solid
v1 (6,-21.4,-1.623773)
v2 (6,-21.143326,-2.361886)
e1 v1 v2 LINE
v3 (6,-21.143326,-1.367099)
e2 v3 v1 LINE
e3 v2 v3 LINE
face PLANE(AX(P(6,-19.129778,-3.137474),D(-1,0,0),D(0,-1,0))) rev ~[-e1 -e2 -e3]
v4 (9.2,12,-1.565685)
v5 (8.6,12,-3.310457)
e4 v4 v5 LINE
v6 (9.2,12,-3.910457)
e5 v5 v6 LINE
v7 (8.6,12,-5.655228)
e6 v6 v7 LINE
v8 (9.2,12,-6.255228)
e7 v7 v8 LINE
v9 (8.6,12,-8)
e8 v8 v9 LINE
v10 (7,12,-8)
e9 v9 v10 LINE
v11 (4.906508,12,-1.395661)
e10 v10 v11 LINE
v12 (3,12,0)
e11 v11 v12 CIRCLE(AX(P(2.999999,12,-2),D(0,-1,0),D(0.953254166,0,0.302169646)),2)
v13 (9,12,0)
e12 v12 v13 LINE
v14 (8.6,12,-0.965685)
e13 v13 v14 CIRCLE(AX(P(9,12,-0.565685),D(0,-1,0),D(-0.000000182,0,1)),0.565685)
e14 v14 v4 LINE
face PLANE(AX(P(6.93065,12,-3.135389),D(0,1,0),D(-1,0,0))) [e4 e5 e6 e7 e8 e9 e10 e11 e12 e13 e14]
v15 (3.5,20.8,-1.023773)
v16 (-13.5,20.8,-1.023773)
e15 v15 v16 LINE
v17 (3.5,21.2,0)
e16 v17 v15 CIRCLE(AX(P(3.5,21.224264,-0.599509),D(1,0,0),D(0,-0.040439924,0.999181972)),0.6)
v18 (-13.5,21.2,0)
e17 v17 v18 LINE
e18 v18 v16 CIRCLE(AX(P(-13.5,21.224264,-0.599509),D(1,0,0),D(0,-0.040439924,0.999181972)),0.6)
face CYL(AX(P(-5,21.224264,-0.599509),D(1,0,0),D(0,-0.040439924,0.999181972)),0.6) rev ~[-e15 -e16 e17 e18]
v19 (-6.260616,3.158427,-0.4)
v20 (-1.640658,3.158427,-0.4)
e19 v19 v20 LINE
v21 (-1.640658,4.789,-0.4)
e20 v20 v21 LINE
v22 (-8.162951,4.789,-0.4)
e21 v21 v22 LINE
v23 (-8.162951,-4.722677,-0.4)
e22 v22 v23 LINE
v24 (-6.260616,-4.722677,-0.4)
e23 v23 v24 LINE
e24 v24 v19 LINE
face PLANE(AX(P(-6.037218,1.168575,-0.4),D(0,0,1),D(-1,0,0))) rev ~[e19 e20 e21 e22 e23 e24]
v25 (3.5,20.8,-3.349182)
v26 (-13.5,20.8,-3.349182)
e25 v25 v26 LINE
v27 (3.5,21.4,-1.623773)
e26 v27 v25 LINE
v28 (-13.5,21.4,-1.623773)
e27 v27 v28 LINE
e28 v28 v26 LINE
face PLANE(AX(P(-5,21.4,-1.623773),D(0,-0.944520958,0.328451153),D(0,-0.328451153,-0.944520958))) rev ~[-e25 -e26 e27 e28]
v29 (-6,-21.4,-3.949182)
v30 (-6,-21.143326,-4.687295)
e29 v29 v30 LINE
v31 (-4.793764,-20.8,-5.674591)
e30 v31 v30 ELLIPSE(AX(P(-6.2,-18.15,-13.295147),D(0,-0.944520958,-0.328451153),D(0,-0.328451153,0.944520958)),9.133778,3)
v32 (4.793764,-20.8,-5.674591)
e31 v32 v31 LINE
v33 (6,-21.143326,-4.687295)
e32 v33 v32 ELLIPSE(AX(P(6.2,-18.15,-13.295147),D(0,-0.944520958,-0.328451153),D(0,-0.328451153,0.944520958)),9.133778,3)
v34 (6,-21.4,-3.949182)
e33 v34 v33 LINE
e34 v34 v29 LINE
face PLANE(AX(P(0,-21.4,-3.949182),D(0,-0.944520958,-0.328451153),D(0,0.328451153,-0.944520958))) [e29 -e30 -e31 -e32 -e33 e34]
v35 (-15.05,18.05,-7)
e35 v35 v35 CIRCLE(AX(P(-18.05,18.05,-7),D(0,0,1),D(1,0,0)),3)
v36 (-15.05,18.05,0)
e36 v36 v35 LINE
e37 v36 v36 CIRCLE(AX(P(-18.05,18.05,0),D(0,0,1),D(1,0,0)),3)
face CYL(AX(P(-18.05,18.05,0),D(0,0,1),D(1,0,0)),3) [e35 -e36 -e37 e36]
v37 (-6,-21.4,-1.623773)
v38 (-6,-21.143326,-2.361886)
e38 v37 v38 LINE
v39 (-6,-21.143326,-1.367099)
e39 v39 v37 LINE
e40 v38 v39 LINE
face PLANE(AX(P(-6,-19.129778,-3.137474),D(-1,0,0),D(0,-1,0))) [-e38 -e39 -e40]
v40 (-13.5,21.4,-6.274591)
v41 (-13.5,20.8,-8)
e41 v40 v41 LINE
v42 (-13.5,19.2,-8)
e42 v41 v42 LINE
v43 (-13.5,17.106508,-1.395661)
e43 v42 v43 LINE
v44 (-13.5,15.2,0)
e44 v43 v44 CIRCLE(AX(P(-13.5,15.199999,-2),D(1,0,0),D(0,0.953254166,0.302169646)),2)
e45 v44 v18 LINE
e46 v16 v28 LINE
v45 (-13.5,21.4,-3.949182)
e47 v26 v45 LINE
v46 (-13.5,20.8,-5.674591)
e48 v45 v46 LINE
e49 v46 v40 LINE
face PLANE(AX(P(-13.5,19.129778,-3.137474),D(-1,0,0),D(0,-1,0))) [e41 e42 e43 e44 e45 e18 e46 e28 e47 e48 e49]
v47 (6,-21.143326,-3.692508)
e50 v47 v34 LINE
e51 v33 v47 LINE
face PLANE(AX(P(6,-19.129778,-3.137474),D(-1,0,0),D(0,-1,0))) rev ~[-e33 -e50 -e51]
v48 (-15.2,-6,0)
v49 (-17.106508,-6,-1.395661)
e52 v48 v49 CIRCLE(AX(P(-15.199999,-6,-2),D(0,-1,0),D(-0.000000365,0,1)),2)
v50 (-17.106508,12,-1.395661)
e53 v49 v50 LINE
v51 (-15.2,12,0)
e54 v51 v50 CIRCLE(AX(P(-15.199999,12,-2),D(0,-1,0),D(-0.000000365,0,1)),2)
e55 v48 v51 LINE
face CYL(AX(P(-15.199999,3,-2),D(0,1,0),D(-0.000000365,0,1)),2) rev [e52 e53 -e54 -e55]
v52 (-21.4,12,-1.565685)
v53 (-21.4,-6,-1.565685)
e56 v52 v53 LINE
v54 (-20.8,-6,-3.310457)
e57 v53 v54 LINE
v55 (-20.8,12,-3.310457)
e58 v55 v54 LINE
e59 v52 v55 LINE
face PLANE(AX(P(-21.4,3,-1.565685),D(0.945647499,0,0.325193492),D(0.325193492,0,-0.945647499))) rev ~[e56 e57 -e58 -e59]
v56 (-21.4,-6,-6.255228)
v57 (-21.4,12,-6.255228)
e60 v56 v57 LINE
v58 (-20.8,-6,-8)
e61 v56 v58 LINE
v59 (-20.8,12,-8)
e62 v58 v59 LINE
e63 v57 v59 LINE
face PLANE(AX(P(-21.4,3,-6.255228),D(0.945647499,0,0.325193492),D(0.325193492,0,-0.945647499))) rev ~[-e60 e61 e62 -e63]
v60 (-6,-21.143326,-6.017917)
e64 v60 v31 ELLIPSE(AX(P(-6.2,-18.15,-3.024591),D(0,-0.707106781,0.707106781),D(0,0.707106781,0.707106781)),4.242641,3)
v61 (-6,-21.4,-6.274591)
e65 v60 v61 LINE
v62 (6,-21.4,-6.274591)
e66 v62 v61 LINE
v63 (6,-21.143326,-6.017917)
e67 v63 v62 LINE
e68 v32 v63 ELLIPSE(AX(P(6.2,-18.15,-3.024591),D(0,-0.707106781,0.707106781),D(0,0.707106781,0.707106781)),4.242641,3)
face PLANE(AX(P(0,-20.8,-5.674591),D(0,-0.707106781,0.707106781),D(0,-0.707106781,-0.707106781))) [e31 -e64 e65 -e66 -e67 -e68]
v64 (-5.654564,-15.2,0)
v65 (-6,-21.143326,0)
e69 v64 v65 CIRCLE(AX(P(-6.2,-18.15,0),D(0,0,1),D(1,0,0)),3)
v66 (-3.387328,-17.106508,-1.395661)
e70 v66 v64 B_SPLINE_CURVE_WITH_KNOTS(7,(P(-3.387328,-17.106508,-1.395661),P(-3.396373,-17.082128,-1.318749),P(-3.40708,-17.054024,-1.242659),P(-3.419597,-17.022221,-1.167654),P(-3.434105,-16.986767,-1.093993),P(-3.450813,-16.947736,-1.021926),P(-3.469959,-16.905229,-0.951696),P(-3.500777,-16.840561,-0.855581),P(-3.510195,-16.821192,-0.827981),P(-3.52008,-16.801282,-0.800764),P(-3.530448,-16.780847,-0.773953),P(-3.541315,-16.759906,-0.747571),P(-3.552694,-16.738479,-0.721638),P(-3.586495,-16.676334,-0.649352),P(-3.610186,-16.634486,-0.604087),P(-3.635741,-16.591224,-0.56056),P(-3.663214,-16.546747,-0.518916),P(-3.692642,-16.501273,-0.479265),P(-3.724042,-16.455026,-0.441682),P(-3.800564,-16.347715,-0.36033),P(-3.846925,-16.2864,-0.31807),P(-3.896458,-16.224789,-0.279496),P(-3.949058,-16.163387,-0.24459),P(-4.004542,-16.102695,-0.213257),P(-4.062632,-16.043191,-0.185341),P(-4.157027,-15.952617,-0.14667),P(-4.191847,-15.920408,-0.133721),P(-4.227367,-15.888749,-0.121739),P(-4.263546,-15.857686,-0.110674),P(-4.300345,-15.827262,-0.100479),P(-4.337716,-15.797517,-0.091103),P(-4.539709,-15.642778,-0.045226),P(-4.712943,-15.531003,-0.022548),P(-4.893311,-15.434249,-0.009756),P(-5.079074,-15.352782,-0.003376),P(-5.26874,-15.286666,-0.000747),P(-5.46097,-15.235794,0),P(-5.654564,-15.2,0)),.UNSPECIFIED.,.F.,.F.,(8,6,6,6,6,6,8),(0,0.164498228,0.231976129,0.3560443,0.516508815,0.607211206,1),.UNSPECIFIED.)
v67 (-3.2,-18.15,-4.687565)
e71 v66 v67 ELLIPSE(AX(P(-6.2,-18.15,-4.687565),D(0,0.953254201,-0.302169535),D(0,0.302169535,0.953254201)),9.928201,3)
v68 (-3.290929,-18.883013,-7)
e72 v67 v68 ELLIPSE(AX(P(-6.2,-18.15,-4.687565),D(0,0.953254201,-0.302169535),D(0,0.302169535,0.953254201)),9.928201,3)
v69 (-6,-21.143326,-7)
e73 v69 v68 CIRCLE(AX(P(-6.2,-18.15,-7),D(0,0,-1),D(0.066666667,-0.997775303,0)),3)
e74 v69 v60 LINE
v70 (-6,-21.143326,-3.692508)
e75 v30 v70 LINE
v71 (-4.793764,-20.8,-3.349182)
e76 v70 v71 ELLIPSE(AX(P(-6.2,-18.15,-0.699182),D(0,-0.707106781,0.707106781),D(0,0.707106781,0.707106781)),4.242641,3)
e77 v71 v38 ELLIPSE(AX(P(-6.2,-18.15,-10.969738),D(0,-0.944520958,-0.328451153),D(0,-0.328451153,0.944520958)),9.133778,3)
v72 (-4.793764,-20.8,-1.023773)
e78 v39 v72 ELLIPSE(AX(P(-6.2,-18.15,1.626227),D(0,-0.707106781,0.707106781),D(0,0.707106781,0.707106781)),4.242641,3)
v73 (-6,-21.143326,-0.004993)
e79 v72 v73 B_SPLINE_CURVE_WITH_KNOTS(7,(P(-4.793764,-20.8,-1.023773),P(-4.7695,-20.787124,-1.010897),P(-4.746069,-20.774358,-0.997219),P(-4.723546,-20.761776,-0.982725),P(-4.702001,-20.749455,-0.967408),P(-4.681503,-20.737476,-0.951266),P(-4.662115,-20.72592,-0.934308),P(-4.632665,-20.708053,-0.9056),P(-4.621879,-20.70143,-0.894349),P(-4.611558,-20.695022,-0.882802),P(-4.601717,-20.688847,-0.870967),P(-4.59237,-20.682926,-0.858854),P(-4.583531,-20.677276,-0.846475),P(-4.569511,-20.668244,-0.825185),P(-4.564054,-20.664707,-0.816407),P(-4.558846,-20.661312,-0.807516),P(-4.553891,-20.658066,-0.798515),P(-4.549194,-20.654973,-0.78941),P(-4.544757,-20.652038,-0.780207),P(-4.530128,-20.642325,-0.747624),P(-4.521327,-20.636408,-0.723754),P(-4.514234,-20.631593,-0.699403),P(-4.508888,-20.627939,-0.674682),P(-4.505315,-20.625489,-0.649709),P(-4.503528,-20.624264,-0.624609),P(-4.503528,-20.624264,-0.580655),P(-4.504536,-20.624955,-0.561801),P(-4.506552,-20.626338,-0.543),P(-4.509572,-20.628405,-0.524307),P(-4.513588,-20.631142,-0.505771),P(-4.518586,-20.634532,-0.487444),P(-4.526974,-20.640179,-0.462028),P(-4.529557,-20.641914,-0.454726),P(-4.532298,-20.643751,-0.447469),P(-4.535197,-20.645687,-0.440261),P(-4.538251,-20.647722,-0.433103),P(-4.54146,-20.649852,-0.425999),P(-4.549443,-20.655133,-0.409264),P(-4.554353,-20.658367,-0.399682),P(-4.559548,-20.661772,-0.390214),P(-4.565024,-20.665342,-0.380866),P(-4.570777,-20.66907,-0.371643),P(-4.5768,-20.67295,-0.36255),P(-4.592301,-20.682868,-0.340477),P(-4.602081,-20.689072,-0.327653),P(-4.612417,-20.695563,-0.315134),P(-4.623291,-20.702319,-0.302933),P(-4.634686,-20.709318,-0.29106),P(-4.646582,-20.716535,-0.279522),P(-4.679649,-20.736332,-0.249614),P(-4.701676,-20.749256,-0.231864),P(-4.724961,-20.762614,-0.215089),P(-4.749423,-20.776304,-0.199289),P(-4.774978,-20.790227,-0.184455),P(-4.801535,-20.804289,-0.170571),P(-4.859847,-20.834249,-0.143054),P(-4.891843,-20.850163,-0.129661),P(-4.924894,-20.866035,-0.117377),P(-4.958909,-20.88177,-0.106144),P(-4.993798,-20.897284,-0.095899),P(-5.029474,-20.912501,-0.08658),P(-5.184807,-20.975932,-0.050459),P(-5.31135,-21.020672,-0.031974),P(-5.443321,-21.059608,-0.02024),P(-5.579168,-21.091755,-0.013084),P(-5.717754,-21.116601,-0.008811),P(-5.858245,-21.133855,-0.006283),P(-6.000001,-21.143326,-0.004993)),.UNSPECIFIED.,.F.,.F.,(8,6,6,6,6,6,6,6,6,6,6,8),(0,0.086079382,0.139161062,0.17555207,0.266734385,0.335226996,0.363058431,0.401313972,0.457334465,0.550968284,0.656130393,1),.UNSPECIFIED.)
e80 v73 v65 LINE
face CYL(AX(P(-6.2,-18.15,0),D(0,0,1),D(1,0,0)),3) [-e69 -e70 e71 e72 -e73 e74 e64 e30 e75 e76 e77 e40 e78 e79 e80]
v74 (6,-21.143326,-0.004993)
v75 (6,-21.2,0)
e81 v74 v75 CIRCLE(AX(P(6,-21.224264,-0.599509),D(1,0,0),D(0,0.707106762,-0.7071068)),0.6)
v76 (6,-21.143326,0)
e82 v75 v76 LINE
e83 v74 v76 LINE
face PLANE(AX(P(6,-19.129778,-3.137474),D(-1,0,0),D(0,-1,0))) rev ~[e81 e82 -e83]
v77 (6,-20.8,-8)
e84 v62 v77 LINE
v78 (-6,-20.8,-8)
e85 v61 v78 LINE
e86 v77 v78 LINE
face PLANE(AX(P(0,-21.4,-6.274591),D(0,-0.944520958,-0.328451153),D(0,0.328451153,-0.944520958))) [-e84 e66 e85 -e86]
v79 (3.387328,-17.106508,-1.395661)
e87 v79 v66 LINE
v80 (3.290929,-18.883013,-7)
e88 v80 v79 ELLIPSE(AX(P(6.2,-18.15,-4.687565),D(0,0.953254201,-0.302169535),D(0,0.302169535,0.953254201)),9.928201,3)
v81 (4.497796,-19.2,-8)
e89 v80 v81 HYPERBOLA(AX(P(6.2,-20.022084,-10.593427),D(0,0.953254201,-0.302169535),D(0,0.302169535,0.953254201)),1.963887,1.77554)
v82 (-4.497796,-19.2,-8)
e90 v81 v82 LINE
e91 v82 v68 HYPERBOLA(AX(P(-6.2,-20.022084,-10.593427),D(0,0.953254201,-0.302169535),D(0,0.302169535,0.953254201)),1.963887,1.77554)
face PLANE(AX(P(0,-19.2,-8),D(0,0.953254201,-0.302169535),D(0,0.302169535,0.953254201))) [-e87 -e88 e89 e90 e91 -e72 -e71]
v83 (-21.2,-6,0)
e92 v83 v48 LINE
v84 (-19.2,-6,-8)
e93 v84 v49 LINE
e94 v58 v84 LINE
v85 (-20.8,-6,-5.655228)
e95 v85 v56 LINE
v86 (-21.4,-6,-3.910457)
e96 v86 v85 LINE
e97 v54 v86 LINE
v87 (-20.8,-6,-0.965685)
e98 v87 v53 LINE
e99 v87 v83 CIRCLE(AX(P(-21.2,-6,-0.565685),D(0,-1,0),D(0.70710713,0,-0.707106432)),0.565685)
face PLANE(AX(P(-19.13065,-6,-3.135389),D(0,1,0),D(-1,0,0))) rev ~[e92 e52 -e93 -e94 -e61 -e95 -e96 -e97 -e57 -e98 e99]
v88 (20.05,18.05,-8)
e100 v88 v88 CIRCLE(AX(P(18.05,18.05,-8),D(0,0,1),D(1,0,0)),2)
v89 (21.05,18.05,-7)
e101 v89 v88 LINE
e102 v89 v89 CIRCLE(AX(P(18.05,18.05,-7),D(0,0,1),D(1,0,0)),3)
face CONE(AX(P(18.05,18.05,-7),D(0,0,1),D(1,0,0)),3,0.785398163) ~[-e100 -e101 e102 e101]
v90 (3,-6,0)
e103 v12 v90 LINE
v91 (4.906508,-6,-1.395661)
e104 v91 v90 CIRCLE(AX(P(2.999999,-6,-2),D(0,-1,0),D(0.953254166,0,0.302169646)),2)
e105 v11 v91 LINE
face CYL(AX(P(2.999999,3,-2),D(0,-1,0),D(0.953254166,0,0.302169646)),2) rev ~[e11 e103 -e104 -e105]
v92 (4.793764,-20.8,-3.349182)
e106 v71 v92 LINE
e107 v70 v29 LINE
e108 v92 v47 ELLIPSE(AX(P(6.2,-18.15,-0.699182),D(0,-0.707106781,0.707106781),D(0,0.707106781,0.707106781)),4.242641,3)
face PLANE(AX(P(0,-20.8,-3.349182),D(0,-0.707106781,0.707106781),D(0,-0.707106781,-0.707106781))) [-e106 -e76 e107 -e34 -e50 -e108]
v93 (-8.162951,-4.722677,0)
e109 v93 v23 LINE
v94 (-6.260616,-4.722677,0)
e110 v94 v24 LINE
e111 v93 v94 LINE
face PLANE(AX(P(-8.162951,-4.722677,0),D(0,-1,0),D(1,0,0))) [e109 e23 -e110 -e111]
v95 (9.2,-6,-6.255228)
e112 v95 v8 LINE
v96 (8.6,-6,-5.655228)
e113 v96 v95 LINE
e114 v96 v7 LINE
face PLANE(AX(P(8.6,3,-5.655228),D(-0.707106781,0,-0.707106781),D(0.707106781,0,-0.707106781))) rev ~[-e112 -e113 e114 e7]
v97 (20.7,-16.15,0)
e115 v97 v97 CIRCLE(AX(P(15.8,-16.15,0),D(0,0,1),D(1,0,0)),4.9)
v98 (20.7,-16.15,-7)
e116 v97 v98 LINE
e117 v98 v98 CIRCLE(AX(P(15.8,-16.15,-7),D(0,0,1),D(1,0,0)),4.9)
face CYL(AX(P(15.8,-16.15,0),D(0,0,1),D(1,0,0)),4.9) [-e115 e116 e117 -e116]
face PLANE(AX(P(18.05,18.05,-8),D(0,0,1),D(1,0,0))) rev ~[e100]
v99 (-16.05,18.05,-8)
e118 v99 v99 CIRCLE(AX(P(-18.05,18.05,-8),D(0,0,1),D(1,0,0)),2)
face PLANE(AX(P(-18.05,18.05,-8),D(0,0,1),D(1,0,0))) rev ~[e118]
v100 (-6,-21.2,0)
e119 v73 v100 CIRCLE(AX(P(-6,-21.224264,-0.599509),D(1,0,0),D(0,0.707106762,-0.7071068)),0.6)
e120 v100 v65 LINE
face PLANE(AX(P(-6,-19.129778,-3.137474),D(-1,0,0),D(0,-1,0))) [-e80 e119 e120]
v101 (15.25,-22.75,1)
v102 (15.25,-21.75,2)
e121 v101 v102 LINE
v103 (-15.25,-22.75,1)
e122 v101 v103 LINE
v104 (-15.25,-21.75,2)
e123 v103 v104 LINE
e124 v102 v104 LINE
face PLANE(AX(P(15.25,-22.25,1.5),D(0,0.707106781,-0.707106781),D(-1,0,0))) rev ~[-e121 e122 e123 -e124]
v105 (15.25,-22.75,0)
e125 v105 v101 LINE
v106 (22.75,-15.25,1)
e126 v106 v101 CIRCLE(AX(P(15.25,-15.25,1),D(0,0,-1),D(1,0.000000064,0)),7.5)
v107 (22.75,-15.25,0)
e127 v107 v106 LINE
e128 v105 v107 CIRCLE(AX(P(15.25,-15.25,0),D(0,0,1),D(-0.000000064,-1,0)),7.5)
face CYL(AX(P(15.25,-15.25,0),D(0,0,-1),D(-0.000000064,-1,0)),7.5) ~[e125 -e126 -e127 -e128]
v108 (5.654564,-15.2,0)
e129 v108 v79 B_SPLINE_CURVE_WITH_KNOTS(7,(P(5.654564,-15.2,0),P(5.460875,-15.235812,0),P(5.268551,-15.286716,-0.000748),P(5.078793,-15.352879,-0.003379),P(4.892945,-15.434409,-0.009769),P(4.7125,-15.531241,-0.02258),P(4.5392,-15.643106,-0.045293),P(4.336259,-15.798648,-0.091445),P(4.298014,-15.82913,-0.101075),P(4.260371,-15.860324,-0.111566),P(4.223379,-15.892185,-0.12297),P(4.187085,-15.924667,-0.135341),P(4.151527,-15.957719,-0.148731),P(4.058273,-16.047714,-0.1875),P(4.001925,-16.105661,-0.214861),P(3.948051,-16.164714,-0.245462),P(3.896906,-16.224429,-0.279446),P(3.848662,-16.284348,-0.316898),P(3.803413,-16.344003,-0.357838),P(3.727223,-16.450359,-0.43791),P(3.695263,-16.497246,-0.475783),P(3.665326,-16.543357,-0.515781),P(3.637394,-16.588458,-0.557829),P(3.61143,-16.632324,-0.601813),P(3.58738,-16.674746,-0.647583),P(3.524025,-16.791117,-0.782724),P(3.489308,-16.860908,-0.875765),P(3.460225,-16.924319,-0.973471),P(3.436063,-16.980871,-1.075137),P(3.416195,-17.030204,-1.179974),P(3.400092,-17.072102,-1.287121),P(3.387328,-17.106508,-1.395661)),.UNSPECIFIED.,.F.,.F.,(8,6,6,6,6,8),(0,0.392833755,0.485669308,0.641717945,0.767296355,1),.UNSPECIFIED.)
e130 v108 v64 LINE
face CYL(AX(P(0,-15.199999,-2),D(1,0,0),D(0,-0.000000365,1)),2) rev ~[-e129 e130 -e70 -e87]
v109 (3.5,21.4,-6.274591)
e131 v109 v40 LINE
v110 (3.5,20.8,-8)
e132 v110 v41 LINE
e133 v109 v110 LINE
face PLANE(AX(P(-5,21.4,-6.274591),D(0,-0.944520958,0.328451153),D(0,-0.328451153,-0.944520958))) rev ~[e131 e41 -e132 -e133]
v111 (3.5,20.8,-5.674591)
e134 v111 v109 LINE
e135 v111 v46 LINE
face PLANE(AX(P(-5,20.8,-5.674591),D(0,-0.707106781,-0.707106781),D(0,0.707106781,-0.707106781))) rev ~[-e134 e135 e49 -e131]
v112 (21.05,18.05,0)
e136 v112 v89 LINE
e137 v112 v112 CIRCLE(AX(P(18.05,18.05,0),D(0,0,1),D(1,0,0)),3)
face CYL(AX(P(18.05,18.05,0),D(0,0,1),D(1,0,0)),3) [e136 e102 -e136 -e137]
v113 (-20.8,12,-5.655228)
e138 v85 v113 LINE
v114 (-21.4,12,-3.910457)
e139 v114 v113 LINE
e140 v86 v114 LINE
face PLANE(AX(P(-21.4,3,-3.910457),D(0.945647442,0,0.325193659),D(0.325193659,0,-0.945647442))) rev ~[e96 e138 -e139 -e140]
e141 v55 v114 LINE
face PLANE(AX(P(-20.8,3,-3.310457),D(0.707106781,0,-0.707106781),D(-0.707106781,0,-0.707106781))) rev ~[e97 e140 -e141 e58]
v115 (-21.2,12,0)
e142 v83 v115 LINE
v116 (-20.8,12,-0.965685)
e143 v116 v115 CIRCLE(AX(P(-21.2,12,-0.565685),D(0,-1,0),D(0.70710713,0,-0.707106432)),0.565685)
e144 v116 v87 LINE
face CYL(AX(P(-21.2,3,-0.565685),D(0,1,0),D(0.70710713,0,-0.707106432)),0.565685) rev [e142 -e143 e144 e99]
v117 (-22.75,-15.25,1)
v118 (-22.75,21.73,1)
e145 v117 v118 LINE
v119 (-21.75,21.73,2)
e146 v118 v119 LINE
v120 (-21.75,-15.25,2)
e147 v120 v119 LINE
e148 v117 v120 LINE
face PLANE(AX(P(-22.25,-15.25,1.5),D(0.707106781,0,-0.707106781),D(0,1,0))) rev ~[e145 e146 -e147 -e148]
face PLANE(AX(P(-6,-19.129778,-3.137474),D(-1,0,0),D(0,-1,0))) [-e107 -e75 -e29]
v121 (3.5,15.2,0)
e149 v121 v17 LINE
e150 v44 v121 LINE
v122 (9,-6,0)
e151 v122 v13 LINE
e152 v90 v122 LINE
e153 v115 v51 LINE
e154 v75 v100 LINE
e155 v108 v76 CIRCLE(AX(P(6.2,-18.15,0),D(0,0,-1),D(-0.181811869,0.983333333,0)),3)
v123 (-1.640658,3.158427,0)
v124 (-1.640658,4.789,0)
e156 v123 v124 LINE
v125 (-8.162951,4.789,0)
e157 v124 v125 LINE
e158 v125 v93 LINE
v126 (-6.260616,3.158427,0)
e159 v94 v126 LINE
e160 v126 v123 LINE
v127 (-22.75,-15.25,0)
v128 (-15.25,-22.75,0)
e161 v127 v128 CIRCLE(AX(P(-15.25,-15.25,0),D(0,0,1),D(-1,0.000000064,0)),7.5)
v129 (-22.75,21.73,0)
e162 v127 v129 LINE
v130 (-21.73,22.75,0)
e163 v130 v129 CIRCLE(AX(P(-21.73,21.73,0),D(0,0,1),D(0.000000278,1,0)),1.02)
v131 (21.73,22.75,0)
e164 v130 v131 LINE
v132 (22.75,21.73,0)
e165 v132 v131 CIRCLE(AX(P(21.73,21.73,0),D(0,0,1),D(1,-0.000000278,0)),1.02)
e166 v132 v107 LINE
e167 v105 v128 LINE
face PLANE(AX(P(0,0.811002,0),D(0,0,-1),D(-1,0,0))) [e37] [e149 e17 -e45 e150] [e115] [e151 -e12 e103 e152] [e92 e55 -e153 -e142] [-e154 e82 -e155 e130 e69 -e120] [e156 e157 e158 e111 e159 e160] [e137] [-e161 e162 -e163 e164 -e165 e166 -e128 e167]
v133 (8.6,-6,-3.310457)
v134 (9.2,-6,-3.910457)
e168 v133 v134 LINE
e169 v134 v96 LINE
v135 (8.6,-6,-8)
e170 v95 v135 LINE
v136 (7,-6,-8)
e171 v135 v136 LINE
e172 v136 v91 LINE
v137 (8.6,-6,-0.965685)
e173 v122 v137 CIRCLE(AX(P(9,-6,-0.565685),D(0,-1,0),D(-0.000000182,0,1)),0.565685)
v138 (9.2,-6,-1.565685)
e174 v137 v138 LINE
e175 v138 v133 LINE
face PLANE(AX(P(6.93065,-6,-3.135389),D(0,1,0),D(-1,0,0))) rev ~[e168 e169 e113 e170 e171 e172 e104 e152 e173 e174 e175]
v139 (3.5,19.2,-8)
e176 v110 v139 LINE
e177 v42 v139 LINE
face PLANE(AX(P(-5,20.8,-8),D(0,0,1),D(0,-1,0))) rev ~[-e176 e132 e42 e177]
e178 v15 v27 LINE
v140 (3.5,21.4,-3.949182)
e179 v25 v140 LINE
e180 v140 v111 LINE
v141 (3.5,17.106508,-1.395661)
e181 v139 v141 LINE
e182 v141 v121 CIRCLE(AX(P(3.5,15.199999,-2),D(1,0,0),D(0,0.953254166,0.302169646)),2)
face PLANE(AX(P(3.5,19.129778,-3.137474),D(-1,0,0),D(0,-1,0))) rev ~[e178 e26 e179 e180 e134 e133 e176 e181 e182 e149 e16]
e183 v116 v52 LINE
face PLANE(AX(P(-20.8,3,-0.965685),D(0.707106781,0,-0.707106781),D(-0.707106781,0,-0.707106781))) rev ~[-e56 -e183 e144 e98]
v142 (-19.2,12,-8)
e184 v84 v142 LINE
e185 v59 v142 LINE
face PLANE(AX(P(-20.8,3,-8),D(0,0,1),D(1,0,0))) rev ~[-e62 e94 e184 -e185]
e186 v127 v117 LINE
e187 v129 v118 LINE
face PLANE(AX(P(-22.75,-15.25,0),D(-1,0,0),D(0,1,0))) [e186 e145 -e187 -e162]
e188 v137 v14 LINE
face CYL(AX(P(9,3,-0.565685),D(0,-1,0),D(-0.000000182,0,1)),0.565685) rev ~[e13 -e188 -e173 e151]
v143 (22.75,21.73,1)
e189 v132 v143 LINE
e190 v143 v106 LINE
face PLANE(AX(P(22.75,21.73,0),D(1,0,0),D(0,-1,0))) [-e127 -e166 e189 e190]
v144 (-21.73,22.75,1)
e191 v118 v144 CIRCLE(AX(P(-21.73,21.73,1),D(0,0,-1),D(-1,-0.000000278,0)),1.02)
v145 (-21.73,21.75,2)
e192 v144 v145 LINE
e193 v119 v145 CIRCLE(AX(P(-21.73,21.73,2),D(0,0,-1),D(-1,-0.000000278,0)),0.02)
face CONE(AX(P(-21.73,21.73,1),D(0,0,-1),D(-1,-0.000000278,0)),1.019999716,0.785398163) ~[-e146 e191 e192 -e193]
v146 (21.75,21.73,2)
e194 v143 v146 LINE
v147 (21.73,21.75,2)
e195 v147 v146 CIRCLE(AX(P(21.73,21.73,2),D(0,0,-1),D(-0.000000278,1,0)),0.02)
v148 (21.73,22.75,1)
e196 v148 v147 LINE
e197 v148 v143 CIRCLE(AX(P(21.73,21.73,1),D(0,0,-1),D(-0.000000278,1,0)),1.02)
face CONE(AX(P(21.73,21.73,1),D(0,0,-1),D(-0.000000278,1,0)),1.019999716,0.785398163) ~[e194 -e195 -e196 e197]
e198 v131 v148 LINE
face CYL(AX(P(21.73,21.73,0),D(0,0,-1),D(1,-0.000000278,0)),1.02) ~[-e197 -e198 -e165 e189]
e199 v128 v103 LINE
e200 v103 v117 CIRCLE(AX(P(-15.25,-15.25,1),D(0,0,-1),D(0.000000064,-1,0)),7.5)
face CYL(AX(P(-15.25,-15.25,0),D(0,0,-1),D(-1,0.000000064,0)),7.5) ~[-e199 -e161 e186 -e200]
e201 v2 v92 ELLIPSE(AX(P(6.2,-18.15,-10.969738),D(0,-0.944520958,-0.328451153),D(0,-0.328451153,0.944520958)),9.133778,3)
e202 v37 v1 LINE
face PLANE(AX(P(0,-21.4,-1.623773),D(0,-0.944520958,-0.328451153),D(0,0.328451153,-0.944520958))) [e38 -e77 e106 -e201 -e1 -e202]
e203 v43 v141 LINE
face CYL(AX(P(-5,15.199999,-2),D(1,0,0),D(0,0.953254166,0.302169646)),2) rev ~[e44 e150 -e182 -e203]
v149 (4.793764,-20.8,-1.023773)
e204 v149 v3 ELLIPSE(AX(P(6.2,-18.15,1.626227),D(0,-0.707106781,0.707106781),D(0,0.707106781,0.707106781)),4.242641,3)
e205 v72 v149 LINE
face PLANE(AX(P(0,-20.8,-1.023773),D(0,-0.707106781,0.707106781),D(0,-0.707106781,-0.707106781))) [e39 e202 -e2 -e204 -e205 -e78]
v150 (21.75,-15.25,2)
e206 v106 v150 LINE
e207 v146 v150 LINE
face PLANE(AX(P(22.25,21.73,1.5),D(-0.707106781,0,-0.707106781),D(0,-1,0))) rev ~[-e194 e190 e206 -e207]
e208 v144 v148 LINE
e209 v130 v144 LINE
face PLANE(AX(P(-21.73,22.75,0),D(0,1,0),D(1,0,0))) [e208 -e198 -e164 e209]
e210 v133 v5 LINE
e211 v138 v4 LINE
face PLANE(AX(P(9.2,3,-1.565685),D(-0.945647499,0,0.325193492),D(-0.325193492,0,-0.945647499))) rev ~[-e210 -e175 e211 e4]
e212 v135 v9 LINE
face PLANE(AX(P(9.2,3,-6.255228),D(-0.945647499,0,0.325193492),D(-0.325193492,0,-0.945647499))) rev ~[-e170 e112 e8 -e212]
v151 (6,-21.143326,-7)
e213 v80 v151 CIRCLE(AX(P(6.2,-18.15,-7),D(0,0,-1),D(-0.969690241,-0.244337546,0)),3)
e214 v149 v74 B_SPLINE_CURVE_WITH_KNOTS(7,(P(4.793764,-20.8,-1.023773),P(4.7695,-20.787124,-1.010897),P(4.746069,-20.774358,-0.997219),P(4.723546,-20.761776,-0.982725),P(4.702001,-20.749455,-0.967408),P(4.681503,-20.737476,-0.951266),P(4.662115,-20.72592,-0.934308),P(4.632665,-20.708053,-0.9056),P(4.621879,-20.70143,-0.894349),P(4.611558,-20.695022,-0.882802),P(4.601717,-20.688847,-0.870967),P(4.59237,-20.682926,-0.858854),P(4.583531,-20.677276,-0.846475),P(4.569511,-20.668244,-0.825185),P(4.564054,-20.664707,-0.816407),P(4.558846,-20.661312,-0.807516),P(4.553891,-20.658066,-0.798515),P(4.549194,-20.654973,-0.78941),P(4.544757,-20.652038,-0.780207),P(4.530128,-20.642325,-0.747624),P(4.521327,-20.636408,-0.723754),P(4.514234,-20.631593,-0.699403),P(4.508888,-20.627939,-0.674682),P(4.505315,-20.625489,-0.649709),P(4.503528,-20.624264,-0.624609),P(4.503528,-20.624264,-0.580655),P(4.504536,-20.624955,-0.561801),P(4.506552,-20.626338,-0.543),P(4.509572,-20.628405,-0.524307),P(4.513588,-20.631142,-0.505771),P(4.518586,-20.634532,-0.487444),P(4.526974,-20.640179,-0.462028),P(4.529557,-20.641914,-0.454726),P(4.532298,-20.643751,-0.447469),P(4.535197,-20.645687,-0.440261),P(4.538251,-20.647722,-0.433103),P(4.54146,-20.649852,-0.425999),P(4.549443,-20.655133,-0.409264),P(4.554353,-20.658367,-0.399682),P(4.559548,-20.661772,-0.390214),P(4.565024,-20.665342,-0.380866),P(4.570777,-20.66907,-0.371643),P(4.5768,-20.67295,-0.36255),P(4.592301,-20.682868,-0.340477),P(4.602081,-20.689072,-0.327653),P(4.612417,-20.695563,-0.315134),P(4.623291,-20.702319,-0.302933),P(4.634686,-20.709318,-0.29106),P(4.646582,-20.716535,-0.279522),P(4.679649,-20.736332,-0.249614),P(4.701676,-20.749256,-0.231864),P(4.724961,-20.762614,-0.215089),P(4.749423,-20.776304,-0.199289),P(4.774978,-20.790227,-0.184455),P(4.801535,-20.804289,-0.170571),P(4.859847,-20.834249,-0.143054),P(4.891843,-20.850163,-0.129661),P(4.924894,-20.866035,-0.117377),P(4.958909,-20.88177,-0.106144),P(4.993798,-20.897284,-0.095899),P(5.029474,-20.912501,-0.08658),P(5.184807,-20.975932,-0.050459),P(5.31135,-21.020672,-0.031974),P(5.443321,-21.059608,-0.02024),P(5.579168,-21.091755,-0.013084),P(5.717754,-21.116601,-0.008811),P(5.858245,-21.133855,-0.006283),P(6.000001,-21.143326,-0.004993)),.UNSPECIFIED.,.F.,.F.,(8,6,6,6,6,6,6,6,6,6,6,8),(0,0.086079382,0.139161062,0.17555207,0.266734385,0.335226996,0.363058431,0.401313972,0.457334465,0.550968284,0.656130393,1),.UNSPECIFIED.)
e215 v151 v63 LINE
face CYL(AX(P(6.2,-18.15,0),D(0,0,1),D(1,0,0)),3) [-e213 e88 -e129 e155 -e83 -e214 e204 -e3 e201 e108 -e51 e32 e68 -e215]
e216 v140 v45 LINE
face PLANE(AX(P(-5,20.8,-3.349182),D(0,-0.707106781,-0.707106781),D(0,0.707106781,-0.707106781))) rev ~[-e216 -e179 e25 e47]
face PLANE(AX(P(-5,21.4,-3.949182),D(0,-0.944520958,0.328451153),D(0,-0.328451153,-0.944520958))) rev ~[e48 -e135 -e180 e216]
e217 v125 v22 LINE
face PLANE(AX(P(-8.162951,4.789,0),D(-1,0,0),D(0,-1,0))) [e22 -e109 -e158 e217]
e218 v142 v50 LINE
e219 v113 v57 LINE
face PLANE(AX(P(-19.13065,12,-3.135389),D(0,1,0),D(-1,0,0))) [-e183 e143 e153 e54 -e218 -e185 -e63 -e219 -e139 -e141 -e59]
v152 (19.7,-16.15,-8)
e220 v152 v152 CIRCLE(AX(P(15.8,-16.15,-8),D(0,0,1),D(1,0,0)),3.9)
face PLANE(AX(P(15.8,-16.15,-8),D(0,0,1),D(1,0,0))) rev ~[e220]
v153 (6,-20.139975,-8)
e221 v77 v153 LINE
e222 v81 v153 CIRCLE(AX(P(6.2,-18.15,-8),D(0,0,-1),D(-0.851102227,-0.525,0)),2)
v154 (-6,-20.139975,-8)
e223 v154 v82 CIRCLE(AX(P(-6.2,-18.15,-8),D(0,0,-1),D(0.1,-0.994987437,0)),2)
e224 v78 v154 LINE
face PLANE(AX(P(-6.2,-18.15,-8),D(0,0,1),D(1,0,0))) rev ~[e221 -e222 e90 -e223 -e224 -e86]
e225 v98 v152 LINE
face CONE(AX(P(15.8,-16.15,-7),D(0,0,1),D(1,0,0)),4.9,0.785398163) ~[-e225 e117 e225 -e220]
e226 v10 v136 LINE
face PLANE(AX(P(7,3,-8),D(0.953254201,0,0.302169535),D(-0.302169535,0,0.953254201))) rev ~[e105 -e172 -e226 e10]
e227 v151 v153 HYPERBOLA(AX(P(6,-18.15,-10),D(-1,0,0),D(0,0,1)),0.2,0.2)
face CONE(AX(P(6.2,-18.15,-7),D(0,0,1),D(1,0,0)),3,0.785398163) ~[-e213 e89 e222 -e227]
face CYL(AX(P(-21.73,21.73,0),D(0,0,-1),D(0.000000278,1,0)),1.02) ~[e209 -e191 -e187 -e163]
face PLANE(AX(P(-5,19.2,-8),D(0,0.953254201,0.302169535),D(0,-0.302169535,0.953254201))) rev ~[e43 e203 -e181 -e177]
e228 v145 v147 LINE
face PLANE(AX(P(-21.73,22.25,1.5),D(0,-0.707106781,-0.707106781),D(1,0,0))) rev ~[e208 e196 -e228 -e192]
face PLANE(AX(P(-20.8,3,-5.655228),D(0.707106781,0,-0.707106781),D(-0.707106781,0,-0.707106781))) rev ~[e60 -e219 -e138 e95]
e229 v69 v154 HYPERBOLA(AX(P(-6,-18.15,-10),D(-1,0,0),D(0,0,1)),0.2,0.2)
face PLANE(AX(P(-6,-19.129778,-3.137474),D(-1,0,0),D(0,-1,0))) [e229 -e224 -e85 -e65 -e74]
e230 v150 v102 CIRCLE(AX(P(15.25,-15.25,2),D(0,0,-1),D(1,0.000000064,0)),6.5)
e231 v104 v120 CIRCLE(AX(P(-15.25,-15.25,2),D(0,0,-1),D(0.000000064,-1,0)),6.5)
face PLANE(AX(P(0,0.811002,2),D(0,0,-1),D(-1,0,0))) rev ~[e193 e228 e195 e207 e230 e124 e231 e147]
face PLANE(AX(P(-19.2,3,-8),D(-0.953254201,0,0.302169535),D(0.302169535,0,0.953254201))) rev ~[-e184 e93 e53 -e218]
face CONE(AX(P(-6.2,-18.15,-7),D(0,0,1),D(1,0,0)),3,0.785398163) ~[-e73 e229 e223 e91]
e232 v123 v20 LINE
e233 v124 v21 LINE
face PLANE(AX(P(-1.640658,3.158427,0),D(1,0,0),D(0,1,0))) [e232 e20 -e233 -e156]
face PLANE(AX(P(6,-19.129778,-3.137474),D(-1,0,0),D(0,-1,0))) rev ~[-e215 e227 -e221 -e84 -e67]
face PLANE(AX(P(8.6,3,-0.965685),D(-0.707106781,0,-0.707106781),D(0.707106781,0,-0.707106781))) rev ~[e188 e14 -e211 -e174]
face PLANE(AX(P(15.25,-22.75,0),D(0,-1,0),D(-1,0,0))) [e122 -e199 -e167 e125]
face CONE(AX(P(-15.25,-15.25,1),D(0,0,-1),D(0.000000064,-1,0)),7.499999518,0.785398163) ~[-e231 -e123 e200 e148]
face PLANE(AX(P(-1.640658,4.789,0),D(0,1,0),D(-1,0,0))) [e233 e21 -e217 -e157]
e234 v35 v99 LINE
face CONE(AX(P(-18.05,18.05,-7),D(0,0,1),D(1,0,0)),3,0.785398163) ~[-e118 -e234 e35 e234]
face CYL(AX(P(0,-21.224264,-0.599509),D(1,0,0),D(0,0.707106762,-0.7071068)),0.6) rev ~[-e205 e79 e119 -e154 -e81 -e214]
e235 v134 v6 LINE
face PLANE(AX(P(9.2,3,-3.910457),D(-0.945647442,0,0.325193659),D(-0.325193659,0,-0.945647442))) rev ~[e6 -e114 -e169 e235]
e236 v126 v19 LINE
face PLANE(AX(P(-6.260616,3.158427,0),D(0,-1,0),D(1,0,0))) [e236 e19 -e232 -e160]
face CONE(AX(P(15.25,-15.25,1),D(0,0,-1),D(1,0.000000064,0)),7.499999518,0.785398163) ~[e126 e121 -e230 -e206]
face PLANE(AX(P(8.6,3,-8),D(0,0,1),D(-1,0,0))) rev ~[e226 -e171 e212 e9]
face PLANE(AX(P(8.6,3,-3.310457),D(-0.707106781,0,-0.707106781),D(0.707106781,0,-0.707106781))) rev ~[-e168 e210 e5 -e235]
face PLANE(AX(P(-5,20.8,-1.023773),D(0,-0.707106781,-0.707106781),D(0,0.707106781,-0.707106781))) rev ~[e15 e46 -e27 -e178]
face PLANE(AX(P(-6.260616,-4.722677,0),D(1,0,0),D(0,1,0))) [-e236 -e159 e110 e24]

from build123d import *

# Parameters (mm, degrees)
PAD001_DEPTH    = 2
SKETCH002_R     = 3
SKETCH002_R_2   = 4.9
PAD002_DEPTH    = 8
CHAMFER_SIZE    = 1
CHAMFER001_SIZE = 1
PAD003_DEPTH    = 9
PAD004_DEPTH    = 6
PAD005_DEPTH    = 8.5
PAD006_DEPTH    = 0.4


with BuildPart() as part:
    # Sketch001 → Pad001 (new body)
    with BuildSketch(Plane.XY):
        with BuildLine():
            Line((-21.73, 22.75), (21.73, 22.75))
            ThreePointArc((22.75, 21.73), (22.451249, 22.451249), (21.73, 22.75))
            Line((22.75, 21.73), (22.75, -15.25))
            ThreePointArc((15.25, -22.75), (20.553301, -20.553301), (22.75, -15.25))
            Line((15.25, -22.75), (-15.25, -22.75))
            ThreePointArc((-22.75, -15.25), (-20.553301, -20.553301), (-15.25, -22.75))
            Line((-22.75, -15.25), (-22.75, 21.73))
            ThreePointArc((-21.73, 22.75), (-22.451249, 22.451249), (-22.75, 21.73))
        make_face()
    extrude(amount=PAD001_DEPTH)

    # Sketch002 → Pad002 (join)
    with BuildSketch(Plane.XY):
        with Locations((-18.05, 18.05)):
            Circle(SKETCH002_R)
        with Locations((18.05, 18.05)):
            Circle(SKETCH002_R)
        with Locations((6.2, -18.15)):
            Circle(SKETCH002_R)
        with Locations((-6.2, -18.15)):
            Circle(SKETCH002_R)
        with Locations((15.8, -16.15)):
            Circle(SKETCH002_R_2)
    extrude(amount=-PAD002_DEPTH)

    # Chamfer
    chamfer_edges = [part.edges().sort_by_distance(p)[0] for p in [
        (15.05, 18.05, -8),
        (-21.05, 18.05, -8),
        (-9.2, -18.15, -8),
        (3.2, -18.15, -8),
        (10.9, -16.15, -8),
    ]]
    chamfer(chamfer_edges, length=CHAMFER_SIZE)

    # Chamfer001
    chamfer001_edges = [part.edges().sort_by_distance(p)[0] for p in [
        (0, -22.75, 2),
    ]]
    chamfer(chamfer001_edges, length=CHAMFER001_SIZE)

    # Sketch003 → Pad003 (join, symmetric)
    with BuildSketch(Plane.XZ.offset(-3)):
        with BuildLine():
            ThreePointArc((-20.8, -0.965685), (-20.677375, -0.349207), (-21.2, 0))
            Line((-21.2, 0), (-15.2, 0))
            ThreePointArc((-15.2, 0), (-16.381381, -0.386204), (-17.106508, -1.395661))
            Line((-19.2, -8), (-17.106508, -1.395661))
            Line((-20.8, -8), (-19.2, -8))
            Line((-21.4, -6.255228), (-20.8, -8))
            Line((-20.8, -5.655228), (-21.4, -6.255228))
            Line((-21.4, -3.910457), (-20.8, -5.655228))
            Line((-20.8, -3.310457), (-21.4, -3.910457))
            Line((-21.4, -1.565685), (-20.8, -3.310457))
            Line((-20.8, -0.965685), (-21.4, -1.565685))
        make_face()
        with BuildLine():
            Line((3, 0), (9, 0))
            ThreePointArc((9, 0), (8.477375, -0.349207), (8.6, -0.965685))
            Line((8.6, -0.965685), (9.2, -1.565685))
            Line((9.2, -1.565685), (8.6, -3.310457))
            Line((8.6, -3.310457), (9.2, -3.910457))
            Line((9.2, -3.910457), (8.6, -5.655228))
            Line((8.6, -5.655228), (9.2, -6.255228))
            Line((9.2, -6.255228), (8.6, -8))
            Line((8.6, -8), (7, -8))
            Line((7, -8), (4.906508, -1.395661))
            ThreePointArc((4.906508, -1.395661), (4.181381, -0.386204), (3, 0))
        make_face()
    extrude(amount=PAD003_DEPTH, both=True)

    # Sketch004 → Pad004 (join, symmetric)
    with BuildSketch(Plane.YZ):
        with BuildLine():
            ThreePointArc((-20.8, -1.023773), (-20.665406, -0.381157), (-21.2, 0))
            Line((-21.2, 0), (-15.2, 0))
            ThreePointArc((-15.2, 0), (-16.381381, -0.386204), (-17.106508, -1.395661))
            Line((-19.2, -8), (-17.106508, -1.395661))
            Line((-20.8, -8), (-19.2, -8))
            Line((-21.4, -6.274591), (-20.8, -8))
            Line((-20.8, -5.674591), (-21.4, -6.274591))
            Line((-21.4, -3.949182), (-20.8, -5.674591))
            Line((-20.8, -3.349182), (-21.4, -3.949182))
            Line((-21.4, -1.623773), (-20.8, -3.349182))
            Line((-20.8, -1.023773), (-21.4, -1.623773))
        make_face()
    extrude(amount=PAD004_DEPTH, both=True)

    # Sketch005 → Pad005 (join, symmetric)
    with BuildSketch(Plane.YZ.offset(-5)):
        with BuildLine():
            Line((15.2, 0), (21.2, 0))
            ThreePointArc((21.2, 0), (20.665406, -0.381157), (20.8, -1.023773))
            Line((20.8, -1.023773), (21.4, -1.623773))
            Line((21.4, -1.623773), (20.8, -3.349182))
            Line((20.8, -3.349182), (21.4, -3.949182))
            Line((21.4, -3.949182), (20.8, -5.674591))
            Line((20.8, -5.674591), (21.4, -6.274591))
            Line((21.4, -6.274591), (20.8, -8))
            Line((20.8, -8), (19.2, -8))
            Line((19.2, -8), (17.106508, -1.395661))
            ThreePointArc((17.106508, -1.395661), (16.381381, -0.386204), (15.2, 0))
        make_face()
    extrude(amount=PAD005_DEPTH, both=True)

    # Sketch006 → Pad006 (new body)
    with BuildSketch(Plane(origin=(0, 0, 0), x_dir=(-1, 0, 0), z_dir=(0, 0, 1))):
        Polygon((8.162951, -4.789), (8.162951, 4.722677), (6.260616, 4.722677), (6.260616, -3.158427), (1.640658, -3.158427), (1.640658, -4.789), align=None)
    extrude(amount=-PAD006_DEPTH)


solid = part.part
